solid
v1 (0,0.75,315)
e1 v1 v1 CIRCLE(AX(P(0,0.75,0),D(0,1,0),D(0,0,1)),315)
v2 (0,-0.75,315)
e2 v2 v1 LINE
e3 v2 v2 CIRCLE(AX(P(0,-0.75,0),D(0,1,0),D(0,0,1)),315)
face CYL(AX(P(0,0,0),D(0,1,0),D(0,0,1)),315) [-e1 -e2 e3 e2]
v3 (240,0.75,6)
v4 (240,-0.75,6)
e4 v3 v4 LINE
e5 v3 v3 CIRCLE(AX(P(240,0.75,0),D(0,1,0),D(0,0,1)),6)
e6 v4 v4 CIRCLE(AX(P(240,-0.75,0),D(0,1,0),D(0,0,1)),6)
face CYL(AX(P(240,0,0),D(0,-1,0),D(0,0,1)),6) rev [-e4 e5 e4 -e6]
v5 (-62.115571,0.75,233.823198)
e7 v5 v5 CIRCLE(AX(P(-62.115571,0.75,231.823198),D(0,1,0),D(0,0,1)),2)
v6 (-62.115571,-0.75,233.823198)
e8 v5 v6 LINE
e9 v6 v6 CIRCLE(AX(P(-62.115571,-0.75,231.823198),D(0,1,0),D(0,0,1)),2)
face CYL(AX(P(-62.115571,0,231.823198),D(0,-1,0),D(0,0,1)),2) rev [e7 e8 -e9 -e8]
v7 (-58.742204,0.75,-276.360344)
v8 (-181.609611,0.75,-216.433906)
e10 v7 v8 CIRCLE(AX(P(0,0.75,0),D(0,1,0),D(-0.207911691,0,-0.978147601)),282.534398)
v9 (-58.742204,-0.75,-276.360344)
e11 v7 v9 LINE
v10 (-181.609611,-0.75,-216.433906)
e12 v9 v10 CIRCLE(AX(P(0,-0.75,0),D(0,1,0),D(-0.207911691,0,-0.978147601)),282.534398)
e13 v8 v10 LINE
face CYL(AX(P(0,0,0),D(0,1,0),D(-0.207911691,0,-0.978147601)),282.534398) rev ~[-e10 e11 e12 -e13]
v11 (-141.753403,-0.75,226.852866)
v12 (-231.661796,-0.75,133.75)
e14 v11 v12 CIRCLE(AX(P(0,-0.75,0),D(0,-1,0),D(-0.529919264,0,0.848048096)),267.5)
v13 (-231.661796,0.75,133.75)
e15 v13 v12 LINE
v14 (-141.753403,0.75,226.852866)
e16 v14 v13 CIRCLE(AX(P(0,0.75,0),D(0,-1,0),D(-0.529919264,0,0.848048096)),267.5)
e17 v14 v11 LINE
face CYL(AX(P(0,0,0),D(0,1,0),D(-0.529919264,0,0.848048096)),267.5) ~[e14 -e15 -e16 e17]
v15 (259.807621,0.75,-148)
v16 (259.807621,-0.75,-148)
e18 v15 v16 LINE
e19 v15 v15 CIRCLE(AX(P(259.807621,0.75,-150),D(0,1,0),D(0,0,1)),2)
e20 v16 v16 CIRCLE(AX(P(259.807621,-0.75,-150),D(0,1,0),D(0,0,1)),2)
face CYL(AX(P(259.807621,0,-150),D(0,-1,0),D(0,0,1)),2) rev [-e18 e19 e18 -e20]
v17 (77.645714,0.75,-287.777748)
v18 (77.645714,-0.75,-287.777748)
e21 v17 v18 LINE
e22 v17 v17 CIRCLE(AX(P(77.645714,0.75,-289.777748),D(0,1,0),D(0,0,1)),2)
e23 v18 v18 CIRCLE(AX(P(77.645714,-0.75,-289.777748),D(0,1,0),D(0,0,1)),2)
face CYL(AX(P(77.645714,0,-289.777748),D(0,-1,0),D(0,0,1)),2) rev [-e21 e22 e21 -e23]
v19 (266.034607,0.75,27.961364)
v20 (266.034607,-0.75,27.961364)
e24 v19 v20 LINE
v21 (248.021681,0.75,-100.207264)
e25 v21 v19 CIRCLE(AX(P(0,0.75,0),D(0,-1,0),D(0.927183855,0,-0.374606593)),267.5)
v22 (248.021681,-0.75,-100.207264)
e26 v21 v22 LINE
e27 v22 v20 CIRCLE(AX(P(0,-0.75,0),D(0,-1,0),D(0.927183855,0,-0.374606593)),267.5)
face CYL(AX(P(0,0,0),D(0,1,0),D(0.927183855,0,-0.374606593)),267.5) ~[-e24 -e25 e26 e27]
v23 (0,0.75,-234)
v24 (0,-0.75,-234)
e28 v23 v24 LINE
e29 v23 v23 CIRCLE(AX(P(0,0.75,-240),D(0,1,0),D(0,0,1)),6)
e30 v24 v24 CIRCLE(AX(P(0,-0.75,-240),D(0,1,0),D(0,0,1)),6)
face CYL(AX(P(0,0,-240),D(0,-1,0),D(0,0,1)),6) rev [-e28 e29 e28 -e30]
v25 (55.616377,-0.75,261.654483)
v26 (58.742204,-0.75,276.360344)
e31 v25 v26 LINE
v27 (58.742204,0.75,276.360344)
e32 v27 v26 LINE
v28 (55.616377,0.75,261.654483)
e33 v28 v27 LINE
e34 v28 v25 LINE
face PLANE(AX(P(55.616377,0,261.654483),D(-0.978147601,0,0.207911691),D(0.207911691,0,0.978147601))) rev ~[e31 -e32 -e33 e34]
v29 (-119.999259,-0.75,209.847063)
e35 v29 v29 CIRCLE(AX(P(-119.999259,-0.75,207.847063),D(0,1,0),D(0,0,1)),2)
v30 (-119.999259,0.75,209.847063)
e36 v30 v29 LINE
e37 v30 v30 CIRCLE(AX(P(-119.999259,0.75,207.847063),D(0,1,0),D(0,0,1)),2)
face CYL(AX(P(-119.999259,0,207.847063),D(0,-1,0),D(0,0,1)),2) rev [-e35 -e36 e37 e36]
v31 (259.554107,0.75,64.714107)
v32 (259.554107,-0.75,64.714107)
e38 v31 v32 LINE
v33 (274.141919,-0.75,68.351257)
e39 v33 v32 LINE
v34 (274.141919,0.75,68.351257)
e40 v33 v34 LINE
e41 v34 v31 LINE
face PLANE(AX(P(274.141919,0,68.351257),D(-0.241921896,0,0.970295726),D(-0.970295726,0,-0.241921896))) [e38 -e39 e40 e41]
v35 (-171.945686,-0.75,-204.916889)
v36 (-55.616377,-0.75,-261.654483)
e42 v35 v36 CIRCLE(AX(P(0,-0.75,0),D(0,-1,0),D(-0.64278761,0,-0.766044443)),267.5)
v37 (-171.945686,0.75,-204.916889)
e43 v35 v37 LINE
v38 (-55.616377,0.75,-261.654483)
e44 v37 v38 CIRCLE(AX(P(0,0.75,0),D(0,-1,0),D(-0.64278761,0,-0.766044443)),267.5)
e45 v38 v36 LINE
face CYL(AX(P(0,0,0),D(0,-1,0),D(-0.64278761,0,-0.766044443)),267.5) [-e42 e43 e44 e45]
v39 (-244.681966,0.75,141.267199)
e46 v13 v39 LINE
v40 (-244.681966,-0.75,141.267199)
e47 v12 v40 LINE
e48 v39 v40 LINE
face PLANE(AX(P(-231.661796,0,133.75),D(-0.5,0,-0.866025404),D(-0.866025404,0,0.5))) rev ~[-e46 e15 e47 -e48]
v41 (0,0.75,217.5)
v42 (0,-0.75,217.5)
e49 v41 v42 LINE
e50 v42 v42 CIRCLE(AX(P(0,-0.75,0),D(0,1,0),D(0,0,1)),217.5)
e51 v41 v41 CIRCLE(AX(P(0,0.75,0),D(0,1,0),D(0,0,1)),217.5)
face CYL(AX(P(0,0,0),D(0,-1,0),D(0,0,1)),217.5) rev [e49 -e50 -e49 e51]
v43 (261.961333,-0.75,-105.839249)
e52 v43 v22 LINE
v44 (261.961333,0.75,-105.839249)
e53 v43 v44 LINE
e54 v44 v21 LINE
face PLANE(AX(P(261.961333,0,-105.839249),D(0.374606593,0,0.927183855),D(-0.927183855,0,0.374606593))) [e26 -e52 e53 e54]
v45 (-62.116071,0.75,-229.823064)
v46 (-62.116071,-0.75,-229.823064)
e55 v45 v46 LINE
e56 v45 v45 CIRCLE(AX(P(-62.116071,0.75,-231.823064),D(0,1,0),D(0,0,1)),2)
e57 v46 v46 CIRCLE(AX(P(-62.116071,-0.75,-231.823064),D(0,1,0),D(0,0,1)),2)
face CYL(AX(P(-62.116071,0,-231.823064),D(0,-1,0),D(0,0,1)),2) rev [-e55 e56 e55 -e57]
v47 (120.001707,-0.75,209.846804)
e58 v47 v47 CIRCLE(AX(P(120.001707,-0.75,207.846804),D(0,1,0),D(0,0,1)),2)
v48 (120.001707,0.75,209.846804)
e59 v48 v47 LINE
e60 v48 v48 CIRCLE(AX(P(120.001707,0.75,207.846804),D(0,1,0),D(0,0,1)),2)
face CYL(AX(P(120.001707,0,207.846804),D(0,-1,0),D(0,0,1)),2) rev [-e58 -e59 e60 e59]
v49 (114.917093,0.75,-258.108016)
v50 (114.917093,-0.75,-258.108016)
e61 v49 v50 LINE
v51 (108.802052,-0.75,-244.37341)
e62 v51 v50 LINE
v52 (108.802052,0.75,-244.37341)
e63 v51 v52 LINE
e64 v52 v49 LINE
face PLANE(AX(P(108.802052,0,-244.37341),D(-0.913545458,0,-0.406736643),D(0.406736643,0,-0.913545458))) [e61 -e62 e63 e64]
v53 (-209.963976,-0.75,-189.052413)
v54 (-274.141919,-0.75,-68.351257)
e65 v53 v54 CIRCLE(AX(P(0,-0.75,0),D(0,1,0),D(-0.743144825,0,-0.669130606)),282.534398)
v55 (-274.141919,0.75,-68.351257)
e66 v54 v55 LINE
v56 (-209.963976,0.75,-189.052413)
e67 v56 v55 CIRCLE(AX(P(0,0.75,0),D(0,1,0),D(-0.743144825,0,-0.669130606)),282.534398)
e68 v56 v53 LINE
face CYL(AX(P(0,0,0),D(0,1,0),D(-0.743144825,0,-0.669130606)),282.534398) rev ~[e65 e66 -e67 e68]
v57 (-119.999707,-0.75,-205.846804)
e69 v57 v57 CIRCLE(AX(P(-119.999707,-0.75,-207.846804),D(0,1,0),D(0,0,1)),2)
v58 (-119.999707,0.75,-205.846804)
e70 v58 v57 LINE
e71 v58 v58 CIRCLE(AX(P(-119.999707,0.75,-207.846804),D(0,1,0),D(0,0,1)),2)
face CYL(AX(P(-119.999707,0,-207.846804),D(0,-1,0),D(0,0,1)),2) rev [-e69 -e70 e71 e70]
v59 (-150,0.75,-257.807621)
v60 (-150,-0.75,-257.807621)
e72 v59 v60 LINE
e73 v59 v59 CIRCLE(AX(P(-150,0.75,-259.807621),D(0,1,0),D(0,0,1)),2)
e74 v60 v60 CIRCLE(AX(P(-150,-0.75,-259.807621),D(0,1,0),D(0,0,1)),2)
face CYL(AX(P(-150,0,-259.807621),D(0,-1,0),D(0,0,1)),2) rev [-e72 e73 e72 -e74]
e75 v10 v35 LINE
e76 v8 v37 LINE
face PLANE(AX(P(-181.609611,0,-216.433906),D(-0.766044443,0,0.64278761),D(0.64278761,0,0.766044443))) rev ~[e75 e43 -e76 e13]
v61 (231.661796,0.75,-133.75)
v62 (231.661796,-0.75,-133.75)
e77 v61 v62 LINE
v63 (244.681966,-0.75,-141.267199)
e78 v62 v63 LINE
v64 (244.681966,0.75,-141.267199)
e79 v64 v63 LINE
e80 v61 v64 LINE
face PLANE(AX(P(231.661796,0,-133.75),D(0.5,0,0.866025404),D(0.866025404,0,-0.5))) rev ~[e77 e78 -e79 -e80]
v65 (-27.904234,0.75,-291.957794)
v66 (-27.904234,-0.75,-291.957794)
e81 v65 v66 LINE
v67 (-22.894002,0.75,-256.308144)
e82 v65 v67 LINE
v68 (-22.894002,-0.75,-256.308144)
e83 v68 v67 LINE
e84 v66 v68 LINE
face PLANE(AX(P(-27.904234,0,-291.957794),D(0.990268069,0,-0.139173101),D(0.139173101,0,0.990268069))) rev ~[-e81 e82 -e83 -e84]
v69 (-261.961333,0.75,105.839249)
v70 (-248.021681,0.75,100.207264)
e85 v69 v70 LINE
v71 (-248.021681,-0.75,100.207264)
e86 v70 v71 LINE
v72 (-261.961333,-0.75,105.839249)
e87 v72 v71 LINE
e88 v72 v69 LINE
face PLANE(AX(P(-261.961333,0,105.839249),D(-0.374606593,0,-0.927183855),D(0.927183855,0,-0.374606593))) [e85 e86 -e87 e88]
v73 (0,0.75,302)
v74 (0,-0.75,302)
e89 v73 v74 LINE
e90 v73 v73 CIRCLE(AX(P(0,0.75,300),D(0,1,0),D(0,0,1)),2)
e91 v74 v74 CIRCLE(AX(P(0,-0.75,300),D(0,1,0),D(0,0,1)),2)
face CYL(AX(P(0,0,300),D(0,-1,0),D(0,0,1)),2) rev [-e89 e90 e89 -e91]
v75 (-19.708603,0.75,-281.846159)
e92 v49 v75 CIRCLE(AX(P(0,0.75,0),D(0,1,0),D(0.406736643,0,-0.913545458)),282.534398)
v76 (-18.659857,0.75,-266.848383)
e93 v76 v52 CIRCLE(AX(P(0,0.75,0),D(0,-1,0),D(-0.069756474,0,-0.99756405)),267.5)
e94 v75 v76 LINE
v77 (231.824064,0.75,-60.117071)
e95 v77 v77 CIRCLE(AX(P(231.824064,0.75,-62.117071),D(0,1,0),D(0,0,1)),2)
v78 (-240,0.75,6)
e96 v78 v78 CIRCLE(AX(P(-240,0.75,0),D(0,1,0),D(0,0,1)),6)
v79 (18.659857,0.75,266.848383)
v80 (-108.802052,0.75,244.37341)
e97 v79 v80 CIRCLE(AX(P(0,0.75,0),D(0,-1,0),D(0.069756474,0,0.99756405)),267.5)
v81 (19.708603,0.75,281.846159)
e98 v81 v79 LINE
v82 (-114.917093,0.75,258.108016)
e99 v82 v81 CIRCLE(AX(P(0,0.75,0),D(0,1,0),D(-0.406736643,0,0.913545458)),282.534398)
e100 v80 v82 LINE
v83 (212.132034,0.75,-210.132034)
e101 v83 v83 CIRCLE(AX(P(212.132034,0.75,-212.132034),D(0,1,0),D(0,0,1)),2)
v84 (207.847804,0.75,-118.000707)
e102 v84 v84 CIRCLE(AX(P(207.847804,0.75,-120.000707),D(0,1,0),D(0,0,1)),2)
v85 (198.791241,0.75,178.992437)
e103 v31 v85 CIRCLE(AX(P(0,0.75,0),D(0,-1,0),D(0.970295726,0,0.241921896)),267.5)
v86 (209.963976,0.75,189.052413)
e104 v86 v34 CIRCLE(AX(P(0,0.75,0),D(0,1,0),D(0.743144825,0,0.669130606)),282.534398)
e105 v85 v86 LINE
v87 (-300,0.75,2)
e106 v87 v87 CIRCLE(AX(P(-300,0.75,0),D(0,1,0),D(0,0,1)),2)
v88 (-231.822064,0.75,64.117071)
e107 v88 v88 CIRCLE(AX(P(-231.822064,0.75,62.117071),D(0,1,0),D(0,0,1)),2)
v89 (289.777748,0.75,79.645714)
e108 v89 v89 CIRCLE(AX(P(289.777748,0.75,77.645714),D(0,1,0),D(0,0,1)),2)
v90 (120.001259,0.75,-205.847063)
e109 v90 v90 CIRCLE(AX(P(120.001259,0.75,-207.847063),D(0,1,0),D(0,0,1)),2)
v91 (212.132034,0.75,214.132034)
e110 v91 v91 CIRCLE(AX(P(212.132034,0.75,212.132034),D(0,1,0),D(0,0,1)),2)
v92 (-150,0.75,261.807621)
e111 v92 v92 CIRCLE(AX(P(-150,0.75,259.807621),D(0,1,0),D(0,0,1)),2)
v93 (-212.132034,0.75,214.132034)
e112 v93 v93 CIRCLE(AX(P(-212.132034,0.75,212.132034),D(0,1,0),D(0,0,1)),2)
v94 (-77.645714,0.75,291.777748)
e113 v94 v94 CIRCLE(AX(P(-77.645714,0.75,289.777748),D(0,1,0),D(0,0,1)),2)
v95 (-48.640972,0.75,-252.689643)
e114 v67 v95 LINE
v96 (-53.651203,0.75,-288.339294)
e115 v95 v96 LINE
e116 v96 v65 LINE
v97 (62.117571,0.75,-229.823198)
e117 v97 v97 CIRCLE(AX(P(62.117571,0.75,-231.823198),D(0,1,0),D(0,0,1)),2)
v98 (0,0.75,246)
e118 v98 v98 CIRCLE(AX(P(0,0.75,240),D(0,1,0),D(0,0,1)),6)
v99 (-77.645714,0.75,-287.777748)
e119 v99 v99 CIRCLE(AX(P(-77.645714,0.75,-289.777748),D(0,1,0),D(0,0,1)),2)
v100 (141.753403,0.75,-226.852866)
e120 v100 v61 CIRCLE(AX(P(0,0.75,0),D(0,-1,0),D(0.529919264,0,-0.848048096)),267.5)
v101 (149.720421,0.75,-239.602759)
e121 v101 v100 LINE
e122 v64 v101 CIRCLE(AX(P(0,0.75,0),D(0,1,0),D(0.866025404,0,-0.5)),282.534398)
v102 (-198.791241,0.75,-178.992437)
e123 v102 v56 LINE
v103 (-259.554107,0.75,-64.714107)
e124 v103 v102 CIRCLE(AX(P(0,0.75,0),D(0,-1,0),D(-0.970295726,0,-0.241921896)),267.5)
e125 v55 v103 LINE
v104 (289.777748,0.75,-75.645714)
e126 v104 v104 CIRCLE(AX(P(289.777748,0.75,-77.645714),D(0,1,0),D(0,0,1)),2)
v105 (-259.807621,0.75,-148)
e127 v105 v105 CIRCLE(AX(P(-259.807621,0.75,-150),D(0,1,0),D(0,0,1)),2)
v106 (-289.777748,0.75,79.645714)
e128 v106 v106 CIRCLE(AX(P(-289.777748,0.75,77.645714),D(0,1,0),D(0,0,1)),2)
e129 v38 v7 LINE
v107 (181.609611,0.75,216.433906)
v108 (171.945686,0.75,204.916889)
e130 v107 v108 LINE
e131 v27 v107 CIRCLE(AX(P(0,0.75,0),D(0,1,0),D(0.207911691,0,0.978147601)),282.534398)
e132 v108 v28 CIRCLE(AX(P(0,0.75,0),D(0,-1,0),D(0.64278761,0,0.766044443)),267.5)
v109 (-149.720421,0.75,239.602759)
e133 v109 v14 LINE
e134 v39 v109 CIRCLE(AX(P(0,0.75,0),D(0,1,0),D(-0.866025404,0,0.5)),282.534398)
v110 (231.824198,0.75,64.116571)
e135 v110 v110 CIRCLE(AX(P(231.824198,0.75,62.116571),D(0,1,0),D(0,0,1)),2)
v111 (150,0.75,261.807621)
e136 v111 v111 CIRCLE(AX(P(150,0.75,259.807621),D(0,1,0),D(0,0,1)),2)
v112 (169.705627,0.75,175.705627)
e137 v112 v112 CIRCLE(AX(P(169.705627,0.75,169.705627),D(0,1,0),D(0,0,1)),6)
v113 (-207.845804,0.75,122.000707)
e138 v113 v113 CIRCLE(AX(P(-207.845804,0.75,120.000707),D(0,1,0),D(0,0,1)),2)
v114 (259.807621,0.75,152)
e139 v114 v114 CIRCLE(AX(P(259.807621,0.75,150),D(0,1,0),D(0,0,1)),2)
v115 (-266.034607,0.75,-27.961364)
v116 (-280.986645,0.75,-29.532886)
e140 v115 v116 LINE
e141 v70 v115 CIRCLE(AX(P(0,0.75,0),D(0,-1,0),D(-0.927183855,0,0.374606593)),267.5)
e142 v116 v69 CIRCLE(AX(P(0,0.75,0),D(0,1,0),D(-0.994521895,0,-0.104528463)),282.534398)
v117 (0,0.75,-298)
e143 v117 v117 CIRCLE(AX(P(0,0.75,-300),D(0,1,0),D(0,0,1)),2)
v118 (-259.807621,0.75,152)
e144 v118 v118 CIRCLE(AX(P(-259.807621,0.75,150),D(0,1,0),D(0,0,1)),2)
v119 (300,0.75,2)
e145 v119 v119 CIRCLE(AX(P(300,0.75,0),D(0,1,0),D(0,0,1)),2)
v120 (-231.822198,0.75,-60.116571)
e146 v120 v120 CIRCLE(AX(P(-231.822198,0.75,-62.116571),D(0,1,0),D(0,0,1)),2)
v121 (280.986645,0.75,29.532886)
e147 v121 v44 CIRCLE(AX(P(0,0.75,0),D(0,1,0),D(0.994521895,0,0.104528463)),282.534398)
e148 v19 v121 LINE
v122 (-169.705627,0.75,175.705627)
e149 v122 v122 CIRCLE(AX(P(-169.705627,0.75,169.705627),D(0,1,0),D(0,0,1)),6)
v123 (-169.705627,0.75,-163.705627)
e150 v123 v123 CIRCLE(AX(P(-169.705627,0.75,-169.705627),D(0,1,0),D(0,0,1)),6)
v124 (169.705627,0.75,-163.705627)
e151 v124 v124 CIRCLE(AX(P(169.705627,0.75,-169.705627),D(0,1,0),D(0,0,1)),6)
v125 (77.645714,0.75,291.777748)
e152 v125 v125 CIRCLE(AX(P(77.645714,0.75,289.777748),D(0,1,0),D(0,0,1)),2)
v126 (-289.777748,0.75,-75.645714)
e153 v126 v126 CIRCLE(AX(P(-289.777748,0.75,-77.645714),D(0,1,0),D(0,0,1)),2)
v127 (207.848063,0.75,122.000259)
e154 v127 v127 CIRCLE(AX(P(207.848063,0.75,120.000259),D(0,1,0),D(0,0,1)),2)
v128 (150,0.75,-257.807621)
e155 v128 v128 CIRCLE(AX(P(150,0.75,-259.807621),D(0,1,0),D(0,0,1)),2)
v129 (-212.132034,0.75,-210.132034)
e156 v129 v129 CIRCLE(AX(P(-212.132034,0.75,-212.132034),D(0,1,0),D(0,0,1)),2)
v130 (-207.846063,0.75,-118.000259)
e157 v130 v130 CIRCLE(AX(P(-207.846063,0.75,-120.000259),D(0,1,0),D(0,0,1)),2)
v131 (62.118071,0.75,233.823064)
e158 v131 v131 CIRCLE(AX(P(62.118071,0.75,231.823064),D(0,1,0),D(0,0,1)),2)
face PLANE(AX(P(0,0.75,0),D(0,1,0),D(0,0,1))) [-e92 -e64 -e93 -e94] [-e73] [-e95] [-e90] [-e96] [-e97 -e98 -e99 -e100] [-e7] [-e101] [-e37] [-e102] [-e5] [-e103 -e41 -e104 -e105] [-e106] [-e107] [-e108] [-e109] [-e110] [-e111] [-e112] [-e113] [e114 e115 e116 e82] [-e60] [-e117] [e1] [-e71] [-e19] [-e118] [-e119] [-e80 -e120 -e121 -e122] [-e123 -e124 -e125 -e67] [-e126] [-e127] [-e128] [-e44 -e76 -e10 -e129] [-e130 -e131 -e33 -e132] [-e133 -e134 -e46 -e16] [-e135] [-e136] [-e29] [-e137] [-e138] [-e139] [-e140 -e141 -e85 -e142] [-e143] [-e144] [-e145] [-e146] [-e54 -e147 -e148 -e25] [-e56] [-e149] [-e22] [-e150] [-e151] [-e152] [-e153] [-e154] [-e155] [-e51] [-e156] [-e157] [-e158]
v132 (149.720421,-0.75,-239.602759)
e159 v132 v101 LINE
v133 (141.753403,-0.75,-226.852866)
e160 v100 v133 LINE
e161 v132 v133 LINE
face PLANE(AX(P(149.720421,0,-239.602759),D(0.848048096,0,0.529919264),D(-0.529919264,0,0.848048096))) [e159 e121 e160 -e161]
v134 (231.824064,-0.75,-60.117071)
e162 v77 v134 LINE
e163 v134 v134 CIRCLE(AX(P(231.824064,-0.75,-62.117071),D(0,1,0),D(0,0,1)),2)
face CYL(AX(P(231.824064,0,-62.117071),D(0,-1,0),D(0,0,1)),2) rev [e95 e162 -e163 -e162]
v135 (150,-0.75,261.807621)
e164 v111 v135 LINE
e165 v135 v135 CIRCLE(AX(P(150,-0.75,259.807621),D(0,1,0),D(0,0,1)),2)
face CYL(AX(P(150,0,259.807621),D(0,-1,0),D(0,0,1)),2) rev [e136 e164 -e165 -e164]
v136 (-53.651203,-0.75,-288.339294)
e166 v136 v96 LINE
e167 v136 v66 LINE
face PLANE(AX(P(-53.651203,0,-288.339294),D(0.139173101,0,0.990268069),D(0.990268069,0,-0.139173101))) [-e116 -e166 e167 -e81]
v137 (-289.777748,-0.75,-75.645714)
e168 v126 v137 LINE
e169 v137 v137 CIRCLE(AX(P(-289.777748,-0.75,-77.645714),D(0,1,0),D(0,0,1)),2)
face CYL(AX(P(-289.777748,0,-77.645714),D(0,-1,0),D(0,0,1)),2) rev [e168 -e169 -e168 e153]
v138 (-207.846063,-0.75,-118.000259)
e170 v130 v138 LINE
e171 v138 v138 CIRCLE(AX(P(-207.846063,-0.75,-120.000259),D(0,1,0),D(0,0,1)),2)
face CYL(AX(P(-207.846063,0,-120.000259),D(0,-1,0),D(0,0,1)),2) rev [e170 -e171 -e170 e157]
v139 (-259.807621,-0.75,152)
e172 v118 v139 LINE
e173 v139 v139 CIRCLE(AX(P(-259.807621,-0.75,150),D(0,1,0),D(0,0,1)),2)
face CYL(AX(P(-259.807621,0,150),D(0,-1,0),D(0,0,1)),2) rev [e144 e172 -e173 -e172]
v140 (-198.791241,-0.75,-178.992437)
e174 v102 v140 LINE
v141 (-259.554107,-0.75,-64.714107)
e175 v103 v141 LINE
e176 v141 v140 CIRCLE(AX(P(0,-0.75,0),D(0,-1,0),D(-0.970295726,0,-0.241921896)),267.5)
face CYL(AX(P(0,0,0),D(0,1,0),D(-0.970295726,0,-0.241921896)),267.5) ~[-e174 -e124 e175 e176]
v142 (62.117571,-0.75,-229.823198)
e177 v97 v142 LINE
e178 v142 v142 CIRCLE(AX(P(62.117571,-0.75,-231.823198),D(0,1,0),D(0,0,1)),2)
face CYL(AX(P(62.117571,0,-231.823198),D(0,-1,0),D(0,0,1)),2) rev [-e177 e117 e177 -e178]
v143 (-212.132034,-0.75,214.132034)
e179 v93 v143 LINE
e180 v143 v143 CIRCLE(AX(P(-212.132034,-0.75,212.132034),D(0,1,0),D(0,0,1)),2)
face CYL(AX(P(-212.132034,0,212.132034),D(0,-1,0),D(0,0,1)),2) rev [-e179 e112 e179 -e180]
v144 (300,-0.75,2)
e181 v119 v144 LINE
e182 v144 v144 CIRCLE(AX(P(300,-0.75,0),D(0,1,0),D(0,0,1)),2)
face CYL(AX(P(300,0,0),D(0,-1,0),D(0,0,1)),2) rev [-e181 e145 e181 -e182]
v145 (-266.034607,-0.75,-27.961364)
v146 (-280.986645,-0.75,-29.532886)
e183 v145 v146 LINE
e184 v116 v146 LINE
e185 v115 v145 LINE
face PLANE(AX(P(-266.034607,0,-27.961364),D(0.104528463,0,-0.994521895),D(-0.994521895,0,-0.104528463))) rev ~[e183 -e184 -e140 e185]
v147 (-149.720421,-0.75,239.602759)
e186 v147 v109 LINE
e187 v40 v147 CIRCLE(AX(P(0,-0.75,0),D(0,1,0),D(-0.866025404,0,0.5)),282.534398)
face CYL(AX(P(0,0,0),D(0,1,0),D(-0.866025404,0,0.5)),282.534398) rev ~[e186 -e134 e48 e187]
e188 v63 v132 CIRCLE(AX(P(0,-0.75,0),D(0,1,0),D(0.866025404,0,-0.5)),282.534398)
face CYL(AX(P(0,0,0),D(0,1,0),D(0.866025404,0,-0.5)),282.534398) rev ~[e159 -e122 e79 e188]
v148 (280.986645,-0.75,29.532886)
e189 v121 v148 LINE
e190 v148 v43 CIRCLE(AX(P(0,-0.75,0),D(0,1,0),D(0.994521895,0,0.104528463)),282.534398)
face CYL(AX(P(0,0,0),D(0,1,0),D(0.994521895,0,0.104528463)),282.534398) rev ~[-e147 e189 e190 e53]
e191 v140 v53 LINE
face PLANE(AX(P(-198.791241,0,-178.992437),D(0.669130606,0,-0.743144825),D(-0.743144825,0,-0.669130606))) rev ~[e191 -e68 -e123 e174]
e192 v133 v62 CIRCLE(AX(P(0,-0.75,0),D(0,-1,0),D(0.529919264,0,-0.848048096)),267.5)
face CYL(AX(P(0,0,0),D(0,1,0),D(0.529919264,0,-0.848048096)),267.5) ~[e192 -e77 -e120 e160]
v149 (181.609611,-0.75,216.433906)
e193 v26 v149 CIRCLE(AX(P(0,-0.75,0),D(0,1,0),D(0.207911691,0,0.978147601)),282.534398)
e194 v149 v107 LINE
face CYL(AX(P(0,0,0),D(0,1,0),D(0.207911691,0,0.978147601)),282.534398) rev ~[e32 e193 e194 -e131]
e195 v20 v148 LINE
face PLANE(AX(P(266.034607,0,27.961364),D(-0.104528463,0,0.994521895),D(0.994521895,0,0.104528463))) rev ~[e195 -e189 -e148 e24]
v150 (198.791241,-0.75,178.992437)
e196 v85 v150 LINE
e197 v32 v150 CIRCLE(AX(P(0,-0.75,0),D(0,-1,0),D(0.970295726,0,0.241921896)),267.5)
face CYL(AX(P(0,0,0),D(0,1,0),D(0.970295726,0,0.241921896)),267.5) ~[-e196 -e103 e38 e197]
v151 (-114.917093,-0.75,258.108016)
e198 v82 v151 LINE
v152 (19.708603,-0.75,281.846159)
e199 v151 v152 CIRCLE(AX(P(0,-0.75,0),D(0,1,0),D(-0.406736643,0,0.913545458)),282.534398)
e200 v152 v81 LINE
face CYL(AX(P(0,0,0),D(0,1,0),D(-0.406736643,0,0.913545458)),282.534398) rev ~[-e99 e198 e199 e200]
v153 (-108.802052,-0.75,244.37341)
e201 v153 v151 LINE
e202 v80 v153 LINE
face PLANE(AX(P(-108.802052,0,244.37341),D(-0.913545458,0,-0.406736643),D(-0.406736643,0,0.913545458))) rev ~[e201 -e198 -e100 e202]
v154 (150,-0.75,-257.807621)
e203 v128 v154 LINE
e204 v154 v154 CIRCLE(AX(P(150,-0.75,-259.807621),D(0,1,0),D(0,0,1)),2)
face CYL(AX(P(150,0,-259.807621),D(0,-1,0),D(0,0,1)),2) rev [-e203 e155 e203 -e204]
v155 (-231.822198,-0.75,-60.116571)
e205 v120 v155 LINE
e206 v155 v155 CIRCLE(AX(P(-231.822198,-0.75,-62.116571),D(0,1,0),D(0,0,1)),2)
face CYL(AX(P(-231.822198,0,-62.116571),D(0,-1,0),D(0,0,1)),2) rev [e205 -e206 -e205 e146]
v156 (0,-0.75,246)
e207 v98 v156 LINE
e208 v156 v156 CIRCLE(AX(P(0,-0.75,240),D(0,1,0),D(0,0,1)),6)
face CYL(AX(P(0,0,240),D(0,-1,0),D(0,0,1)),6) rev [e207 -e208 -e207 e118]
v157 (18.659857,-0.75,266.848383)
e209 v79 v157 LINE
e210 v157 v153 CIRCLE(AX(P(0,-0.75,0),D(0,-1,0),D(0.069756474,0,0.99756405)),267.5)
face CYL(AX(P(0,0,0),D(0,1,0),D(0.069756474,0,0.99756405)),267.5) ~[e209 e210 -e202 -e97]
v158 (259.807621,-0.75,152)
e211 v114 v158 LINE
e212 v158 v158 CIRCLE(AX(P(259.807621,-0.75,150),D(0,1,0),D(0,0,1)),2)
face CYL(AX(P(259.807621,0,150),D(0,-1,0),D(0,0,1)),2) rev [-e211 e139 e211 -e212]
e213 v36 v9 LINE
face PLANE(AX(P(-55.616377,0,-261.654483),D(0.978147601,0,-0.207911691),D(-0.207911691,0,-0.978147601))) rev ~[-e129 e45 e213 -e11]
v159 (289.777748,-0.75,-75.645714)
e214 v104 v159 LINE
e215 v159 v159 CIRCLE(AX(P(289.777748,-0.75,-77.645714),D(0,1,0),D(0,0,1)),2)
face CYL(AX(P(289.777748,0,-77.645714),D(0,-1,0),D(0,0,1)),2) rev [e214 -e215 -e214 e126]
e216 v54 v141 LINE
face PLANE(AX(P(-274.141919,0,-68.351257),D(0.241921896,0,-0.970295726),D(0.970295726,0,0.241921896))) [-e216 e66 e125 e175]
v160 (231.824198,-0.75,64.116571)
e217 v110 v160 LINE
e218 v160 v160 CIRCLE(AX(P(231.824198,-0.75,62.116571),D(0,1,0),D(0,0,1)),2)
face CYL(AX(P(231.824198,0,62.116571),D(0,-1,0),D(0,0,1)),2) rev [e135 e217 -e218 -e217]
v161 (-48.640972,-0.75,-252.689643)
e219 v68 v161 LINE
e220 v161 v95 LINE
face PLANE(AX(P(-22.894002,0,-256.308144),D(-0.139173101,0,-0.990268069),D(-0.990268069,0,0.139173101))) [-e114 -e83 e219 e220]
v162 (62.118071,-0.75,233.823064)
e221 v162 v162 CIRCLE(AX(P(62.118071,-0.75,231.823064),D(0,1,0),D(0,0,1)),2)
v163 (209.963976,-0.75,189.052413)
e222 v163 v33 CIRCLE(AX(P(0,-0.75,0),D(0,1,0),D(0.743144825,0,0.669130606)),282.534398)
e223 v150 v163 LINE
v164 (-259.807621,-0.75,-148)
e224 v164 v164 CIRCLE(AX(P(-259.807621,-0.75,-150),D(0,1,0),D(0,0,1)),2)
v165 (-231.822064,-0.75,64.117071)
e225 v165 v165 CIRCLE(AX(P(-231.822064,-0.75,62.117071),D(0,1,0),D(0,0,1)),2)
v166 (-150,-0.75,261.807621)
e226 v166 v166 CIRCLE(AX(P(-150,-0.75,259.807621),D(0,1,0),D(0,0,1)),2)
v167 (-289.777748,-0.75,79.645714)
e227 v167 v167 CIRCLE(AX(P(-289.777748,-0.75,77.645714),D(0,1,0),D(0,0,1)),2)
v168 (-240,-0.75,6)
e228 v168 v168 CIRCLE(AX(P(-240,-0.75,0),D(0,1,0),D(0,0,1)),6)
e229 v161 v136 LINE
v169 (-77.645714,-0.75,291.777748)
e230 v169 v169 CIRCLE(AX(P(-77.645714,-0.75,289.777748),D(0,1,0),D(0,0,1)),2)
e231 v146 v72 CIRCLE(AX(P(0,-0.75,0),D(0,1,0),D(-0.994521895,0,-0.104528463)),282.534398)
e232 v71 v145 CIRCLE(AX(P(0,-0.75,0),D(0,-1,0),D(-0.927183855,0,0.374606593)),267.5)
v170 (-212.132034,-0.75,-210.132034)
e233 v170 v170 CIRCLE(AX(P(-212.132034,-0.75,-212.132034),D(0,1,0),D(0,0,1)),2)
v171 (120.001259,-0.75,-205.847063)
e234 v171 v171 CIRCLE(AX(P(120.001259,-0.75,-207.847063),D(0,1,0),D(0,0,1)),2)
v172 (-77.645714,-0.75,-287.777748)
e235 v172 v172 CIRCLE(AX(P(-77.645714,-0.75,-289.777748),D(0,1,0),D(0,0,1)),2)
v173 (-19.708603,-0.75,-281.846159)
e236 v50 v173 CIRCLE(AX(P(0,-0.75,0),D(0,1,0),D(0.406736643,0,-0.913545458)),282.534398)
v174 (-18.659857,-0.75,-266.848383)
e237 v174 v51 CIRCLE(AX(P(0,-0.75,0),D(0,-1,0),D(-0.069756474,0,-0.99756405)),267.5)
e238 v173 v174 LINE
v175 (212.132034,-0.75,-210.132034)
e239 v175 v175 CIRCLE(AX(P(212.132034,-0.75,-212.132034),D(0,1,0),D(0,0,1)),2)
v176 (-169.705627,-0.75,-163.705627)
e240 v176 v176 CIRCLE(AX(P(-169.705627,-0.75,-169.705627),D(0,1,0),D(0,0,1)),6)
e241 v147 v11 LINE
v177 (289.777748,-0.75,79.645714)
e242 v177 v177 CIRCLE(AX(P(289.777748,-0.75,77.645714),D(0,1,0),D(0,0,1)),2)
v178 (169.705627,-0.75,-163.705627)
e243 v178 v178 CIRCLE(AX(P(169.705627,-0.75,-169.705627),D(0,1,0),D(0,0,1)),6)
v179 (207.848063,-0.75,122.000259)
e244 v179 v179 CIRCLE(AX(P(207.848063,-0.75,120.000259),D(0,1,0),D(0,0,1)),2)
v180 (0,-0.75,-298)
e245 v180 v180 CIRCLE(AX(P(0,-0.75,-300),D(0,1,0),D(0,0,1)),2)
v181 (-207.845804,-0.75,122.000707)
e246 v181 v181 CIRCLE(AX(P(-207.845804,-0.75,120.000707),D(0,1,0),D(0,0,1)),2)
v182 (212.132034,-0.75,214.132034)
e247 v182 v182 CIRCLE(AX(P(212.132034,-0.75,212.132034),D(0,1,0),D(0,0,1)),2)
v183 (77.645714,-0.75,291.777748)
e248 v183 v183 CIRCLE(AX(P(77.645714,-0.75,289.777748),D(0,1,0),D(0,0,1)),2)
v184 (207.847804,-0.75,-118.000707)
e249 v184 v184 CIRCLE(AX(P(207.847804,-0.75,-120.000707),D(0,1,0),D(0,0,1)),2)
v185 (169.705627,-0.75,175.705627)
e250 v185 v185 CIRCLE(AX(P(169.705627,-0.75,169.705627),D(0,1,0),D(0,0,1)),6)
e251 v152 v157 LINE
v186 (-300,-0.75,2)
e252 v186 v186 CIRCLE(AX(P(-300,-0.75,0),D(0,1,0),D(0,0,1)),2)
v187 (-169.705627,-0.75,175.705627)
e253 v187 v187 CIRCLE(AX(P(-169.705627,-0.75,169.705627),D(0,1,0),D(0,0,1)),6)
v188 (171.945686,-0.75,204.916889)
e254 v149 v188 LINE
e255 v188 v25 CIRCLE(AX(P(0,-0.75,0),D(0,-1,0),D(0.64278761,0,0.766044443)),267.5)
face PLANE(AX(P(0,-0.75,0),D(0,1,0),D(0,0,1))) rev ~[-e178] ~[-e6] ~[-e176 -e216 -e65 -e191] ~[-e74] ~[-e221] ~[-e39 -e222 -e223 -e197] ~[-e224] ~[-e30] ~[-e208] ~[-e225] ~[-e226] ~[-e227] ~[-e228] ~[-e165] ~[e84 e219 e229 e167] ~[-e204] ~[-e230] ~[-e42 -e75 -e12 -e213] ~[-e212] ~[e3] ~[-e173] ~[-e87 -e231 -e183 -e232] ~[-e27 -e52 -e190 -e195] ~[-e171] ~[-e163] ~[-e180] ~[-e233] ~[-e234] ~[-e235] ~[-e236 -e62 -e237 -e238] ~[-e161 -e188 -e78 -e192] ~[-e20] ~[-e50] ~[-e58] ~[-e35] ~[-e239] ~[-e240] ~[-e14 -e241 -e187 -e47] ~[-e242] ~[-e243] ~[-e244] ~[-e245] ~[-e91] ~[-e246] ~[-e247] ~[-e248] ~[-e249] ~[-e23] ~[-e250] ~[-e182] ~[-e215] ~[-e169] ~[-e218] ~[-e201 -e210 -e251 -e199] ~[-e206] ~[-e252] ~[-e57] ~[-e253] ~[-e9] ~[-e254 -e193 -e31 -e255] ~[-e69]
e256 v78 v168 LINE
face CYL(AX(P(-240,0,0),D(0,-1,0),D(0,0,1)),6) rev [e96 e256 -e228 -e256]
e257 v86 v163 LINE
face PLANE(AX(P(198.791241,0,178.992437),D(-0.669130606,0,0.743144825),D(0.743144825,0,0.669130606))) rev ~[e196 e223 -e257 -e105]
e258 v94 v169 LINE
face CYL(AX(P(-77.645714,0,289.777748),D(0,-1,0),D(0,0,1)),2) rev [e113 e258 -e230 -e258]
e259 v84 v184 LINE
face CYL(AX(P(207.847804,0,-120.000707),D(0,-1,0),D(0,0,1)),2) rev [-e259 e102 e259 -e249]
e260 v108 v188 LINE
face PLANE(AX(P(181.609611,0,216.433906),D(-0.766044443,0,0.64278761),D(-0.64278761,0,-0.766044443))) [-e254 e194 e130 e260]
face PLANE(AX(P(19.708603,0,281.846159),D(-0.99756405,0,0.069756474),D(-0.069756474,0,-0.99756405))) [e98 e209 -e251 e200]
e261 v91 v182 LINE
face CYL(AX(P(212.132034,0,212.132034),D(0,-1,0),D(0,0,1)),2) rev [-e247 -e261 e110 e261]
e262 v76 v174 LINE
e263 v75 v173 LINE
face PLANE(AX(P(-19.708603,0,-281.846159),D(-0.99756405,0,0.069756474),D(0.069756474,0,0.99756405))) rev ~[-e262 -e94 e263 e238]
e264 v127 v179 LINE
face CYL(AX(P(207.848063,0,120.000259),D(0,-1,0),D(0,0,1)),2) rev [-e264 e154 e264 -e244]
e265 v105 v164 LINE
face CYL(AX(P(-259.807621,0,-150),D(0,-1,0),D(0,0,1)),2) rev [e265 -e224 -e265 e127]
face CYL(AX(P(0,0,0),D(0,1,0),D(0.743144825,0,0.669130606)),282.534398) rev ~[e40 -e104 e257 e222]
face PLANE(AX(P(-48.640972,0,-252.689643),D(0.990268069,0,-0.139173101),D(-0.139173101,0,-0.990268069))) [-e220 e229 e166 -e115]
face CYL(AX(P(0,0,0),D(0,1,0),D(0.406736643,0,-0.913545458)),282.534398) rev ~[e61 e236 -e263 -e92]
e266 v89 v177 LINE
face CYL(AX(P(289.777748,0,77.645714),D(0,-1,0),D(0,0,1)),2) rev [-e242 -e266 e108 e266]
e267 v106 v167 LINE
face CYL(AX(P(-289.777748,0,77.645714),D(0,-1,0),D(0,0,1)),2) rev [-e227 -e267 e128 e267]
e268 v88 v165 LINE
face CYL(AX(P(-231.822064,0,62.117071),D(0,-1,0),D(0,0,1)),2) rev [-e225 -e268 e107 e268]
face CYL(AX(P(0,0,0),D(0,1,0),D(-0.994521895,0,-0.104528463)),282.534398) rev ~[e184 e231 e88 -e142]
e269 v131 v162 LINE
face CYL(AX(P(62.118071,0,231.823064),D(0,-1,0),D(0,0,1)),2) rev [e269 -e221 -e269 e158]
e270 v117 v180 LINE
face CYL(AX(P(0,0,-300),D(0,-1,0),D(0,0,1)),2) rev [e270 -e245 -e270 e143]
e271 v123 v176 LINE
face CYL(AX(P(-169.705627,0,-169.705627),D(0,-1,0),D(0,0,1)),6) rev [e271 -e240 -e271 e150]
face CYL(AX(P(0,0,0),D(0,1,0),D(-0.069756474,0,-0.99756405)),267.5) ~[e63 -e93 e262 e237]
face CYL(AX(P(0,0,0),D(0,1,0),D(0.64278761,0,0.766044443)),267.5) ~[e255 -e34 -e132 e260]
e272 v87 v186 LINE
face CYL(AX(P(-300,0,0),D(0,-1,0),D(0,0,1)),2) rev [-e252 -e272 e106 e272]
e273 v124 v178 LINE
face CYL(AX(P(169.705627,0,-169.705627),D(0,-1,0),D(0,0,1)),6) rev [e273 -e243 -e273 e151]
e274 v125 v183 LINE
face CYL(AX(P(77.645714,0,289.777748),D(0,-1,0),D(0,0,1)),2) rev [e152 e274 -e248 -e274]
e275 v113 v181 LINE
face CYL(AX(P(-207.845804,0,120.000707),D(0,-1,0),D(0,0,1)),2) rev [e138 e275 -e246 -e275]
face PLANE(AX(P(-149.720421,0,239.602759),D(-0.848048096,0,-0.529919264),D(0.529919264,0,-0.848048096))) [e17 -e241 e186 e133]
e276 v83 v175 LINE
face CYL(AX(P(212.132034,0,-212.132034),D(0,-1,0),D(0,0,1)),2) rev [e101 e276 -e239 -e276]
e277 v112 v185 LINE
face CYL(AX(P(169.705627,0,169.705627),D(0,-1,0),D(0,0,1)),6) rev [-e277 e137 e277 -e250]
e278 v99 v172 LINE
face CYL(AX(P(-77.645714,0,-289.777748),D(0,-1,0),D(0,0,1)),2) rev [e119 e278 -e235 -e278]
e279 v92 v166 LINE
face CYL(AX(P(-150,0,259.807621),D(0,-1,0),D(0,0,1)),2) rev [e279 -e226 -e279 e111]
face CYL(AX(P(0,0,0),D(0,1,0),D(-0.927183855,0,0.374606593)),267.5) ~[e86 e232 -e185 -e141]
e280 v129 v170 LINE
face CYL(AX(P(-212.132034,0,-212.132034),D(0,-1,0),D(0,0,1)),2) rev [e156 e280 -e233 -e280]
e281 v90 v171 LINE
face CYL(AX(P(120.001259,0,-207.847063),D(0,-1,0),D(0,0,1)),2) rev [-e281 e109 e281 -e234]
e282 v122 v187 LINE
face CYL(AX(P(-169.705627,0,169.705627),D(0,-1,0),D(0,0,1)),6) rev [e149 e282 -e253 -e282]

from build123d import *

# Parameters (mm, degrees)
SKETCH1_R           = 315
SKETCH1_R_2         = 217.5
SKETCH1_R_3         = 6
SKETCH1_R_4         = 2
BOSS_EXTRUDE1_DEPTH = 0.75


with BuildPart() as part:
    # Sketch1 → Boss-Extrude1 (new, symmetric)
    with BuildSketch(Plane(origin=(0, 0, 0), x_dir=(1, 0, 0), z_dir=(0, 1, 0))):
        with Locations(Location((0, 0, 0), (0, 0, 270))):
            Circle(SKETCH1_R)
        with Locations(Location((0, 0, 0), (0, 0, 270))):
            Circle(SKETCH1_R_2, mode=Mode.SUBTRACT)
        with Locations(Location((0, 240, 0), (0, 0, 270))):
            Circle(SKETCH1_R_3, mode=Mode.SUBTRACT)
        with Locations(Location((169.705627485, 169.705627485, 0), (0, 0, 270))):
            Circle(SKETCH1_R_3, mode=Mode.SUBTRACT)
        with Locations(Location((240, 0, 0), (0, 0, 270))):
            Circle(SKETCH1_R_3, mode=Mode.SUBTRACT)
        with Locations(Location((169.705627485, -169.705627485, 0), (0, 0, 270))):
            Circle(SKETCH1_R_3, mode=Mode.SUBTRACT)
        with Locations(Location((0, -240, 0), (0, 0, 270))):
            Circle(SKETCH1_R_3, mode=Mode.SUBTRACT)
        with Locations(Location((-169.705627485, -169.705627485, 0), (0, 0, 270))):
            Circle(SKETCH1_R_3, mode=Mode.SUBTRACT)
        with Locations(Location((-240, 0, 0), (0, 0, 270))):
            Circle(SKETCH1_R_3, mode=Mode.SUBTRACT)
        with Locations(Location((-169.705627485, 169.705627485, 0), (0, 0, 270))):
            Circle(SKETCH1_R_3, mode=Mode.SUBTRACT)
        with Locations(Location((-231.822198309, 62.116570825, 0), (0, 0, 270))):
            Circle(SKETCH1_R_4, mode=Mode.SUBTRACT)
        with Locations(Location((-207.846062834, 120.000258819, 0), (0, 0, 270))):
            Circle(SKETCH1_R_4, mode=Mode.SUBTRACT)
        with Locations(Location((-119.999707107, 207.846804015, 0), (0, 0, 270))):
            Circle(SKETCH1_R_4, mode=Mode.SUBTRACT)
        with Locations(Location((-62.116070825, 231.823064335, 0), (0, 0, 270))):
            Circle(SKETCH1_R_4, mode=Mode.SUBTRACT)
        with Locations(Location((62.117570825, 231.823198309, 0), (0, 0, 270))):
            Circle(SKETCH1_R_4, mode=Mode.SUBTRACT)
        with Locations(Location((120.001258819, 207.847062834, 0), (0, 0, 270))):
            Circle(SKETCH1_R_4, mode=Mode.SUBTRACT)
        with Locations(Location((207.847804015, 120.000707107, 0), (0, 0, 270))):
            Circle(SKETCH1_R_4, mode=Mode.SUBTRACT)
        with Locations(Location((231.824064335, 62.117070825, 0), (0, 0, 270))):
            Circle(SKETCH1_R_4, mode=Mode.SUBTRACT)
        with Locations(Location((231.824198309, -62.116570825, 0), (0, 0, 270))):
            Circle(SKETCH1_R_4, mode=Mode.SUBTRACT)
        with Locations(Location((207.848062834, -120.000258819, 0), (0, 0, 270))):
            Circle(SKETCH1_R_4, mode=Mode.SUBTRACT)
        with Locations(Location((120.001707107, -207.846804015, 0), (0, 0, 270))):
            Circle(SKETCH1_R_4, mode=Mode.SUBTRACT)
        with Locations(Location((62.118070825, -231.823064335, 0), (0, 0, 270))):
            Circle(SKETCH1_R_4, mode=Mode.SUBTRACT)
        with Locations(Location((-62.115570825, -231.823198309, 0), (0, 0, 270))):
            Circle(SKETCH1_R_4, mode=Mode.SUBTRACT)
        with Locations(Location((-119.999258819, -207.847062834, 0), (0, 0, 270))):
            Circle(SKETCH1_R_4, mode=Mode.SUBTRACT)
        with Locations(Location((-207.845804015, -120.000707107, 0), (0, 0, 270))):
            Circle(SKETCH1_R_4, mode=Mode.SUBTRACT)
        with Locations(Location((-231.822064335, -62.117070825, 0), (0, 0, 270))):
            Circle(SKETCH1_R_4, mode=Mode.SUBTRACT)
        with Locations(Location((-289.777747887, 77.645713531, 0), (0, 0, 270))):
            Circle(SKETCH1_R_4, mode=Mode.SUBTRACT)
        with Locations(Location((-259.807621135, 150, 0), (0, 0, 270))):
            Circle(SKETCH1_R_4, mode=Mode.SUBTRACT)
        with Locations(Location((-212.132034356, 212.132034356, 0), (0, 0, 270))):
            Circle(SKETCH1_R_4, mode=Mode.SUBTRACT)
        with Locations(Location((-150, 259.807621135, 0), (0, 0, 270))):
            Circle(SKETCH1_R_4, mode=Mode.SUBTRACT)
        with Locations(Location((-77.645713531, 289.777747887, 0), (0, 0, 270))):
            Circle(SKETCH1_R_4, mode=Mode.SUBTRACT)
        with Locations(Location((0, 300, 0), (0, 0, 270))):
            Circle(SKETCH1_R_4, mode=Mode.SUBTRACT)
        with Locations(Location((77.645713531, 289.777747887, 0), (0, 0, 270))):
            Circle(SKETCH1_R_4, mode=Mode.SUBTRACT)
        with Locations(Location((150, 259.807621135, 0), (0, 0, 270))):
            Circle(SKETCH1_R_4, mode=Mode.SUBTRACT)
        with Locations(Location((212.132034356, 212.132034356, 0), (0, 0, 270))):
            Circle(SKETCH1_R_4, mode=Mode.SUBTRACT)
        with Locations(Location((259.807621135, 150, 0), (0, 0, 270))):
            Circle(SKETCH1_R_4, mode=Mode.SUBTRACT)
        with Locations(Location((289.777747887, 77.645713531, 0), (0, 0, 270))):
            Circle(SKETCH1_R_4, mode=Mode.SUBTRACT)
        with Locations(Location((300, 0, 0), (0, 0, 270))):
            Circle(SKETCH1_R_4, mode=Mode.SUBTRACT)
        with Locations(Location((289.777747887, -77.645713531, 0), (0, 0, 270))):
            Circle(SKETCH1_R_4, mode=Mode.SUBTRACT)
        with Locations(Location((259.807621135, -150, 0), (0, 0, 270))):
            Circle(SKETCH1_R_4, mode=Mode.SUBTRACT)
        with Locations(Location((212.132034356, -212.132034356, 0), (0, 0, 270))):
            Circle(SKETCH1_R_4, mode=Mode.SUBTRACT)
        with Locations(Location((150, -259.807621135, 0), (0, 0, 270))):
            Circle(SKETCH1_R_4, mode=Mode.SUBTRACT)
        with Locations(Location((77.645713531, -289.777747887, 0), (0, 0, 270))):
            Circle(SKETCH1_R_4, mode=Mode.SUBTRACT)
        with Locations(Location((0, -300, 0), (0, 0, 270))):
            Circle(SKETCH1_R_4, mode=Mode.SUBTRACT)
        with Locations(Location((-77.645713531, -289.777747887, 0), (0, 0, 270))):
            Circle(SKETCH1_R_4, mode=Mode.SUBTRACT)
        with Locations(Location((-150, -259.807621135, 0), (0, 0, 270))):
            Circle(SKETCH1_R_4, mode=Mode.SUBTRACT)
        with Locations(Location((-212.132034356, -212.132034356, 0), (0, 0, 270))):
            Circle(SKETCH1_R_4, mode=Mode.SUBTRACT)
        with Locations(Location((-259.807621135, -150, 0), (0, 0, 270))):
            Circle(SKETCH1_R_4, mode=Mode.SUBTRACT)
        with Locations(Location((-289.777747887, -77.645713531, 0), (0, 0, 270))):
            Circle(SKETCH1_R_4, mode=Mode.SUBTRACT)
        with Locations(Location((-300, 0, 0), (0, 0, 270))):
            Circle(SKETCH1_R_4, mode=Mode.SUBTRACT)
        Polygon((-53.651203475, 288.339293829), (-27.904233688, 291.957794454), (-22.894002053, 256.308143979), (-48.64097184, 252.689643354), align=None, mode=Mode.SUBTRACT)
        with BuildLine():
            Line((-19.708603347, 281.846158847), (-18.659856727, 266.848383445))
            ThreePointArc((-18.659856727, 266.848383445), (46.450887526, 263.436073931), (108.802052023, 244.373409919))
            Line((108.802052023, 244.373409919), (114.917092776, 258.108016324))
            ThreePointArc((114.917092776, 258.108016324), (49.061583418, 278.242066078), (-19.708603347, 281.846158847))
        make_face(mode=Mode.SUBTRACT)
        with BuildLine():
            Line((231.661795512, 133.75), (244.681966494, 141.267199221))
            ThreePointArc((244.681966494, 141.267199221), (203.238237764, 196.26488482), (149.720420543, 239.602758697))
            Line((149.720420543, 239.602758697), (141.753403182, 226.852865722))
            ThreePointArc((141.753403182, 226.852865722), (192.423396591, 185.821114098), (231.661795512, 133.75))
        make_face(mode=Mode.SUBTRACT)
        with BuildLine():
            Line((266.034607011, -27.961363924), (280.986645445, -29.532886489))
            ThreePointArc((280.986645445, -29.532886489), (279.784793098, 39.321188359), (261.961332595, 105.839248523))
            Line((261.961332595, 105.839248523), (248.021681097, 100.207263739))
            ThreePointArc((248.021681097, 100.207263739), (264.896708388, 37.228804507), (266.034607011, -27.961363924))
        make_face(mode=Mode.SUBTRACT)
        with BuildLine():
            Line((198.791240815, -178.992437201), (209.963976221, -189.052413347))
            ThreePointArc((209.963976221, -189.052413347), (249.463067004, -132.641865577), (274.141919334, -68.351257243))
            Line((274.141919334, -68.351257243), (259.554106779, -64.714107073))
            ThreePointArc((259.554106779, -64.714107073), (236.18848109, -125.583643045), (198.791240815, -178.992437201))
        make_face(mode=Mode.SUBTRACT)
        with BuildLine():
            Line((55.616377294, -261.654483196), (58.742204494, -276.360343961))
            ThreePointArc((58.742204494, -276.360343961), (123.854928252, -253.940235194), (181.609610629, -216.433905916))
            Line((181.609610629, -216.433905916), (171.945685591, -204.916888534))
            ThreePointArc((171.945685591, -204.916888534), (117.264281766, -240.427407385), (55.616377294, -261.654483196))
        make_face(mode=Mode.SUBTRACT)
        with BuildLine():
            Line((-108.802052023, -244.373409919), (-114.917092776, -258.108016324))
            ThreePointArc((-114.917092776, -258.108016324), (-49.061583418, -278.242066078), (19.708603347, -281.846158847))
            Line((19.708603347, -281.846158847), (18.659856727, -266.848383445))
            ThreePointArc((18.659856727, -266.848383445), (-46.450887526, -263.436073931), (-108.802052023, -244.373409919))
        make_face(mode=Mode.SUBTRACT)
        with BuildLine():
            Line((-231.661795512, -133.75), (-244.681966494, -141.267199221))
            ThreePointArc((-244.681966494, -141.267199221), (-203.238237764, -196.26488482), (-149.720420543, -239.602758697))
            Line((-149.720420543, -239.602758697), (-141.753403182, -226.852865722))
            ThreePointArc((-141.753403182, -226.852865722), (-192.423396591, -185.821114098), (-231.661795512, -133.75))
        make_face(mode=Mode.SUBTRACT)
        with BuildLine():
            Line((-266.034607011, 27.961363924), (-280.986645445, 29.532886489))
            ThreePointArc((-280.986645445, 29.532886489), (-279.784793098, -39.321188359), (-261.961332595, -105.839248523))
            Line((-261.961332595, -105.839248523), (-248.021681097, -100.207263739))
            ThreePointArc((-248.021681097, -100.207263739), (-264.896708388, -37.228804507), (-266.034607011, 27.961363924))
        make_face(mode=Mode.SUBTRACT)
        with BuildLine():
            Line((-198.791240815, 178.992437201), (-209.963976221, 189.052413347))
            ThreePointArc((-209.963976221, 189.052413347), (-249.463067004, 132.641865577), (-274.141919334, 68.351257243))
            Line((-274.141919334, 68.351257243), (-259.554106779, 64.714107073))
            ThreePointArc((-259.554106779, 64.714107073), (-236.18848109, 125.583643045), (-198.791240815, 178.992437201))
        make_face(mode=Mode.SUBTRACT)
        with BuildLine():
            Line((-55.616377294, 261.654483196), (-58.742204494, 276.360343961))
            ThreePointArc((-58.742204494, 276.360343961), (-123.854928252, 253.940235194), (-181.609610629, 216.433905916))
            Line((-181.609610629, 216.433905916), (-171.945685591, 204.916888534))
            ThreePointArc((-171.945685591, 204.916888534), (-117.264281766, 240.427407385), (-55.616377294, 261.654483196))
        make_face(mode=Mode.SUBTRACT)
    extrude(amount=BOSS_EXTRUDE1_DEPTH, both=True)


solid = part.part
